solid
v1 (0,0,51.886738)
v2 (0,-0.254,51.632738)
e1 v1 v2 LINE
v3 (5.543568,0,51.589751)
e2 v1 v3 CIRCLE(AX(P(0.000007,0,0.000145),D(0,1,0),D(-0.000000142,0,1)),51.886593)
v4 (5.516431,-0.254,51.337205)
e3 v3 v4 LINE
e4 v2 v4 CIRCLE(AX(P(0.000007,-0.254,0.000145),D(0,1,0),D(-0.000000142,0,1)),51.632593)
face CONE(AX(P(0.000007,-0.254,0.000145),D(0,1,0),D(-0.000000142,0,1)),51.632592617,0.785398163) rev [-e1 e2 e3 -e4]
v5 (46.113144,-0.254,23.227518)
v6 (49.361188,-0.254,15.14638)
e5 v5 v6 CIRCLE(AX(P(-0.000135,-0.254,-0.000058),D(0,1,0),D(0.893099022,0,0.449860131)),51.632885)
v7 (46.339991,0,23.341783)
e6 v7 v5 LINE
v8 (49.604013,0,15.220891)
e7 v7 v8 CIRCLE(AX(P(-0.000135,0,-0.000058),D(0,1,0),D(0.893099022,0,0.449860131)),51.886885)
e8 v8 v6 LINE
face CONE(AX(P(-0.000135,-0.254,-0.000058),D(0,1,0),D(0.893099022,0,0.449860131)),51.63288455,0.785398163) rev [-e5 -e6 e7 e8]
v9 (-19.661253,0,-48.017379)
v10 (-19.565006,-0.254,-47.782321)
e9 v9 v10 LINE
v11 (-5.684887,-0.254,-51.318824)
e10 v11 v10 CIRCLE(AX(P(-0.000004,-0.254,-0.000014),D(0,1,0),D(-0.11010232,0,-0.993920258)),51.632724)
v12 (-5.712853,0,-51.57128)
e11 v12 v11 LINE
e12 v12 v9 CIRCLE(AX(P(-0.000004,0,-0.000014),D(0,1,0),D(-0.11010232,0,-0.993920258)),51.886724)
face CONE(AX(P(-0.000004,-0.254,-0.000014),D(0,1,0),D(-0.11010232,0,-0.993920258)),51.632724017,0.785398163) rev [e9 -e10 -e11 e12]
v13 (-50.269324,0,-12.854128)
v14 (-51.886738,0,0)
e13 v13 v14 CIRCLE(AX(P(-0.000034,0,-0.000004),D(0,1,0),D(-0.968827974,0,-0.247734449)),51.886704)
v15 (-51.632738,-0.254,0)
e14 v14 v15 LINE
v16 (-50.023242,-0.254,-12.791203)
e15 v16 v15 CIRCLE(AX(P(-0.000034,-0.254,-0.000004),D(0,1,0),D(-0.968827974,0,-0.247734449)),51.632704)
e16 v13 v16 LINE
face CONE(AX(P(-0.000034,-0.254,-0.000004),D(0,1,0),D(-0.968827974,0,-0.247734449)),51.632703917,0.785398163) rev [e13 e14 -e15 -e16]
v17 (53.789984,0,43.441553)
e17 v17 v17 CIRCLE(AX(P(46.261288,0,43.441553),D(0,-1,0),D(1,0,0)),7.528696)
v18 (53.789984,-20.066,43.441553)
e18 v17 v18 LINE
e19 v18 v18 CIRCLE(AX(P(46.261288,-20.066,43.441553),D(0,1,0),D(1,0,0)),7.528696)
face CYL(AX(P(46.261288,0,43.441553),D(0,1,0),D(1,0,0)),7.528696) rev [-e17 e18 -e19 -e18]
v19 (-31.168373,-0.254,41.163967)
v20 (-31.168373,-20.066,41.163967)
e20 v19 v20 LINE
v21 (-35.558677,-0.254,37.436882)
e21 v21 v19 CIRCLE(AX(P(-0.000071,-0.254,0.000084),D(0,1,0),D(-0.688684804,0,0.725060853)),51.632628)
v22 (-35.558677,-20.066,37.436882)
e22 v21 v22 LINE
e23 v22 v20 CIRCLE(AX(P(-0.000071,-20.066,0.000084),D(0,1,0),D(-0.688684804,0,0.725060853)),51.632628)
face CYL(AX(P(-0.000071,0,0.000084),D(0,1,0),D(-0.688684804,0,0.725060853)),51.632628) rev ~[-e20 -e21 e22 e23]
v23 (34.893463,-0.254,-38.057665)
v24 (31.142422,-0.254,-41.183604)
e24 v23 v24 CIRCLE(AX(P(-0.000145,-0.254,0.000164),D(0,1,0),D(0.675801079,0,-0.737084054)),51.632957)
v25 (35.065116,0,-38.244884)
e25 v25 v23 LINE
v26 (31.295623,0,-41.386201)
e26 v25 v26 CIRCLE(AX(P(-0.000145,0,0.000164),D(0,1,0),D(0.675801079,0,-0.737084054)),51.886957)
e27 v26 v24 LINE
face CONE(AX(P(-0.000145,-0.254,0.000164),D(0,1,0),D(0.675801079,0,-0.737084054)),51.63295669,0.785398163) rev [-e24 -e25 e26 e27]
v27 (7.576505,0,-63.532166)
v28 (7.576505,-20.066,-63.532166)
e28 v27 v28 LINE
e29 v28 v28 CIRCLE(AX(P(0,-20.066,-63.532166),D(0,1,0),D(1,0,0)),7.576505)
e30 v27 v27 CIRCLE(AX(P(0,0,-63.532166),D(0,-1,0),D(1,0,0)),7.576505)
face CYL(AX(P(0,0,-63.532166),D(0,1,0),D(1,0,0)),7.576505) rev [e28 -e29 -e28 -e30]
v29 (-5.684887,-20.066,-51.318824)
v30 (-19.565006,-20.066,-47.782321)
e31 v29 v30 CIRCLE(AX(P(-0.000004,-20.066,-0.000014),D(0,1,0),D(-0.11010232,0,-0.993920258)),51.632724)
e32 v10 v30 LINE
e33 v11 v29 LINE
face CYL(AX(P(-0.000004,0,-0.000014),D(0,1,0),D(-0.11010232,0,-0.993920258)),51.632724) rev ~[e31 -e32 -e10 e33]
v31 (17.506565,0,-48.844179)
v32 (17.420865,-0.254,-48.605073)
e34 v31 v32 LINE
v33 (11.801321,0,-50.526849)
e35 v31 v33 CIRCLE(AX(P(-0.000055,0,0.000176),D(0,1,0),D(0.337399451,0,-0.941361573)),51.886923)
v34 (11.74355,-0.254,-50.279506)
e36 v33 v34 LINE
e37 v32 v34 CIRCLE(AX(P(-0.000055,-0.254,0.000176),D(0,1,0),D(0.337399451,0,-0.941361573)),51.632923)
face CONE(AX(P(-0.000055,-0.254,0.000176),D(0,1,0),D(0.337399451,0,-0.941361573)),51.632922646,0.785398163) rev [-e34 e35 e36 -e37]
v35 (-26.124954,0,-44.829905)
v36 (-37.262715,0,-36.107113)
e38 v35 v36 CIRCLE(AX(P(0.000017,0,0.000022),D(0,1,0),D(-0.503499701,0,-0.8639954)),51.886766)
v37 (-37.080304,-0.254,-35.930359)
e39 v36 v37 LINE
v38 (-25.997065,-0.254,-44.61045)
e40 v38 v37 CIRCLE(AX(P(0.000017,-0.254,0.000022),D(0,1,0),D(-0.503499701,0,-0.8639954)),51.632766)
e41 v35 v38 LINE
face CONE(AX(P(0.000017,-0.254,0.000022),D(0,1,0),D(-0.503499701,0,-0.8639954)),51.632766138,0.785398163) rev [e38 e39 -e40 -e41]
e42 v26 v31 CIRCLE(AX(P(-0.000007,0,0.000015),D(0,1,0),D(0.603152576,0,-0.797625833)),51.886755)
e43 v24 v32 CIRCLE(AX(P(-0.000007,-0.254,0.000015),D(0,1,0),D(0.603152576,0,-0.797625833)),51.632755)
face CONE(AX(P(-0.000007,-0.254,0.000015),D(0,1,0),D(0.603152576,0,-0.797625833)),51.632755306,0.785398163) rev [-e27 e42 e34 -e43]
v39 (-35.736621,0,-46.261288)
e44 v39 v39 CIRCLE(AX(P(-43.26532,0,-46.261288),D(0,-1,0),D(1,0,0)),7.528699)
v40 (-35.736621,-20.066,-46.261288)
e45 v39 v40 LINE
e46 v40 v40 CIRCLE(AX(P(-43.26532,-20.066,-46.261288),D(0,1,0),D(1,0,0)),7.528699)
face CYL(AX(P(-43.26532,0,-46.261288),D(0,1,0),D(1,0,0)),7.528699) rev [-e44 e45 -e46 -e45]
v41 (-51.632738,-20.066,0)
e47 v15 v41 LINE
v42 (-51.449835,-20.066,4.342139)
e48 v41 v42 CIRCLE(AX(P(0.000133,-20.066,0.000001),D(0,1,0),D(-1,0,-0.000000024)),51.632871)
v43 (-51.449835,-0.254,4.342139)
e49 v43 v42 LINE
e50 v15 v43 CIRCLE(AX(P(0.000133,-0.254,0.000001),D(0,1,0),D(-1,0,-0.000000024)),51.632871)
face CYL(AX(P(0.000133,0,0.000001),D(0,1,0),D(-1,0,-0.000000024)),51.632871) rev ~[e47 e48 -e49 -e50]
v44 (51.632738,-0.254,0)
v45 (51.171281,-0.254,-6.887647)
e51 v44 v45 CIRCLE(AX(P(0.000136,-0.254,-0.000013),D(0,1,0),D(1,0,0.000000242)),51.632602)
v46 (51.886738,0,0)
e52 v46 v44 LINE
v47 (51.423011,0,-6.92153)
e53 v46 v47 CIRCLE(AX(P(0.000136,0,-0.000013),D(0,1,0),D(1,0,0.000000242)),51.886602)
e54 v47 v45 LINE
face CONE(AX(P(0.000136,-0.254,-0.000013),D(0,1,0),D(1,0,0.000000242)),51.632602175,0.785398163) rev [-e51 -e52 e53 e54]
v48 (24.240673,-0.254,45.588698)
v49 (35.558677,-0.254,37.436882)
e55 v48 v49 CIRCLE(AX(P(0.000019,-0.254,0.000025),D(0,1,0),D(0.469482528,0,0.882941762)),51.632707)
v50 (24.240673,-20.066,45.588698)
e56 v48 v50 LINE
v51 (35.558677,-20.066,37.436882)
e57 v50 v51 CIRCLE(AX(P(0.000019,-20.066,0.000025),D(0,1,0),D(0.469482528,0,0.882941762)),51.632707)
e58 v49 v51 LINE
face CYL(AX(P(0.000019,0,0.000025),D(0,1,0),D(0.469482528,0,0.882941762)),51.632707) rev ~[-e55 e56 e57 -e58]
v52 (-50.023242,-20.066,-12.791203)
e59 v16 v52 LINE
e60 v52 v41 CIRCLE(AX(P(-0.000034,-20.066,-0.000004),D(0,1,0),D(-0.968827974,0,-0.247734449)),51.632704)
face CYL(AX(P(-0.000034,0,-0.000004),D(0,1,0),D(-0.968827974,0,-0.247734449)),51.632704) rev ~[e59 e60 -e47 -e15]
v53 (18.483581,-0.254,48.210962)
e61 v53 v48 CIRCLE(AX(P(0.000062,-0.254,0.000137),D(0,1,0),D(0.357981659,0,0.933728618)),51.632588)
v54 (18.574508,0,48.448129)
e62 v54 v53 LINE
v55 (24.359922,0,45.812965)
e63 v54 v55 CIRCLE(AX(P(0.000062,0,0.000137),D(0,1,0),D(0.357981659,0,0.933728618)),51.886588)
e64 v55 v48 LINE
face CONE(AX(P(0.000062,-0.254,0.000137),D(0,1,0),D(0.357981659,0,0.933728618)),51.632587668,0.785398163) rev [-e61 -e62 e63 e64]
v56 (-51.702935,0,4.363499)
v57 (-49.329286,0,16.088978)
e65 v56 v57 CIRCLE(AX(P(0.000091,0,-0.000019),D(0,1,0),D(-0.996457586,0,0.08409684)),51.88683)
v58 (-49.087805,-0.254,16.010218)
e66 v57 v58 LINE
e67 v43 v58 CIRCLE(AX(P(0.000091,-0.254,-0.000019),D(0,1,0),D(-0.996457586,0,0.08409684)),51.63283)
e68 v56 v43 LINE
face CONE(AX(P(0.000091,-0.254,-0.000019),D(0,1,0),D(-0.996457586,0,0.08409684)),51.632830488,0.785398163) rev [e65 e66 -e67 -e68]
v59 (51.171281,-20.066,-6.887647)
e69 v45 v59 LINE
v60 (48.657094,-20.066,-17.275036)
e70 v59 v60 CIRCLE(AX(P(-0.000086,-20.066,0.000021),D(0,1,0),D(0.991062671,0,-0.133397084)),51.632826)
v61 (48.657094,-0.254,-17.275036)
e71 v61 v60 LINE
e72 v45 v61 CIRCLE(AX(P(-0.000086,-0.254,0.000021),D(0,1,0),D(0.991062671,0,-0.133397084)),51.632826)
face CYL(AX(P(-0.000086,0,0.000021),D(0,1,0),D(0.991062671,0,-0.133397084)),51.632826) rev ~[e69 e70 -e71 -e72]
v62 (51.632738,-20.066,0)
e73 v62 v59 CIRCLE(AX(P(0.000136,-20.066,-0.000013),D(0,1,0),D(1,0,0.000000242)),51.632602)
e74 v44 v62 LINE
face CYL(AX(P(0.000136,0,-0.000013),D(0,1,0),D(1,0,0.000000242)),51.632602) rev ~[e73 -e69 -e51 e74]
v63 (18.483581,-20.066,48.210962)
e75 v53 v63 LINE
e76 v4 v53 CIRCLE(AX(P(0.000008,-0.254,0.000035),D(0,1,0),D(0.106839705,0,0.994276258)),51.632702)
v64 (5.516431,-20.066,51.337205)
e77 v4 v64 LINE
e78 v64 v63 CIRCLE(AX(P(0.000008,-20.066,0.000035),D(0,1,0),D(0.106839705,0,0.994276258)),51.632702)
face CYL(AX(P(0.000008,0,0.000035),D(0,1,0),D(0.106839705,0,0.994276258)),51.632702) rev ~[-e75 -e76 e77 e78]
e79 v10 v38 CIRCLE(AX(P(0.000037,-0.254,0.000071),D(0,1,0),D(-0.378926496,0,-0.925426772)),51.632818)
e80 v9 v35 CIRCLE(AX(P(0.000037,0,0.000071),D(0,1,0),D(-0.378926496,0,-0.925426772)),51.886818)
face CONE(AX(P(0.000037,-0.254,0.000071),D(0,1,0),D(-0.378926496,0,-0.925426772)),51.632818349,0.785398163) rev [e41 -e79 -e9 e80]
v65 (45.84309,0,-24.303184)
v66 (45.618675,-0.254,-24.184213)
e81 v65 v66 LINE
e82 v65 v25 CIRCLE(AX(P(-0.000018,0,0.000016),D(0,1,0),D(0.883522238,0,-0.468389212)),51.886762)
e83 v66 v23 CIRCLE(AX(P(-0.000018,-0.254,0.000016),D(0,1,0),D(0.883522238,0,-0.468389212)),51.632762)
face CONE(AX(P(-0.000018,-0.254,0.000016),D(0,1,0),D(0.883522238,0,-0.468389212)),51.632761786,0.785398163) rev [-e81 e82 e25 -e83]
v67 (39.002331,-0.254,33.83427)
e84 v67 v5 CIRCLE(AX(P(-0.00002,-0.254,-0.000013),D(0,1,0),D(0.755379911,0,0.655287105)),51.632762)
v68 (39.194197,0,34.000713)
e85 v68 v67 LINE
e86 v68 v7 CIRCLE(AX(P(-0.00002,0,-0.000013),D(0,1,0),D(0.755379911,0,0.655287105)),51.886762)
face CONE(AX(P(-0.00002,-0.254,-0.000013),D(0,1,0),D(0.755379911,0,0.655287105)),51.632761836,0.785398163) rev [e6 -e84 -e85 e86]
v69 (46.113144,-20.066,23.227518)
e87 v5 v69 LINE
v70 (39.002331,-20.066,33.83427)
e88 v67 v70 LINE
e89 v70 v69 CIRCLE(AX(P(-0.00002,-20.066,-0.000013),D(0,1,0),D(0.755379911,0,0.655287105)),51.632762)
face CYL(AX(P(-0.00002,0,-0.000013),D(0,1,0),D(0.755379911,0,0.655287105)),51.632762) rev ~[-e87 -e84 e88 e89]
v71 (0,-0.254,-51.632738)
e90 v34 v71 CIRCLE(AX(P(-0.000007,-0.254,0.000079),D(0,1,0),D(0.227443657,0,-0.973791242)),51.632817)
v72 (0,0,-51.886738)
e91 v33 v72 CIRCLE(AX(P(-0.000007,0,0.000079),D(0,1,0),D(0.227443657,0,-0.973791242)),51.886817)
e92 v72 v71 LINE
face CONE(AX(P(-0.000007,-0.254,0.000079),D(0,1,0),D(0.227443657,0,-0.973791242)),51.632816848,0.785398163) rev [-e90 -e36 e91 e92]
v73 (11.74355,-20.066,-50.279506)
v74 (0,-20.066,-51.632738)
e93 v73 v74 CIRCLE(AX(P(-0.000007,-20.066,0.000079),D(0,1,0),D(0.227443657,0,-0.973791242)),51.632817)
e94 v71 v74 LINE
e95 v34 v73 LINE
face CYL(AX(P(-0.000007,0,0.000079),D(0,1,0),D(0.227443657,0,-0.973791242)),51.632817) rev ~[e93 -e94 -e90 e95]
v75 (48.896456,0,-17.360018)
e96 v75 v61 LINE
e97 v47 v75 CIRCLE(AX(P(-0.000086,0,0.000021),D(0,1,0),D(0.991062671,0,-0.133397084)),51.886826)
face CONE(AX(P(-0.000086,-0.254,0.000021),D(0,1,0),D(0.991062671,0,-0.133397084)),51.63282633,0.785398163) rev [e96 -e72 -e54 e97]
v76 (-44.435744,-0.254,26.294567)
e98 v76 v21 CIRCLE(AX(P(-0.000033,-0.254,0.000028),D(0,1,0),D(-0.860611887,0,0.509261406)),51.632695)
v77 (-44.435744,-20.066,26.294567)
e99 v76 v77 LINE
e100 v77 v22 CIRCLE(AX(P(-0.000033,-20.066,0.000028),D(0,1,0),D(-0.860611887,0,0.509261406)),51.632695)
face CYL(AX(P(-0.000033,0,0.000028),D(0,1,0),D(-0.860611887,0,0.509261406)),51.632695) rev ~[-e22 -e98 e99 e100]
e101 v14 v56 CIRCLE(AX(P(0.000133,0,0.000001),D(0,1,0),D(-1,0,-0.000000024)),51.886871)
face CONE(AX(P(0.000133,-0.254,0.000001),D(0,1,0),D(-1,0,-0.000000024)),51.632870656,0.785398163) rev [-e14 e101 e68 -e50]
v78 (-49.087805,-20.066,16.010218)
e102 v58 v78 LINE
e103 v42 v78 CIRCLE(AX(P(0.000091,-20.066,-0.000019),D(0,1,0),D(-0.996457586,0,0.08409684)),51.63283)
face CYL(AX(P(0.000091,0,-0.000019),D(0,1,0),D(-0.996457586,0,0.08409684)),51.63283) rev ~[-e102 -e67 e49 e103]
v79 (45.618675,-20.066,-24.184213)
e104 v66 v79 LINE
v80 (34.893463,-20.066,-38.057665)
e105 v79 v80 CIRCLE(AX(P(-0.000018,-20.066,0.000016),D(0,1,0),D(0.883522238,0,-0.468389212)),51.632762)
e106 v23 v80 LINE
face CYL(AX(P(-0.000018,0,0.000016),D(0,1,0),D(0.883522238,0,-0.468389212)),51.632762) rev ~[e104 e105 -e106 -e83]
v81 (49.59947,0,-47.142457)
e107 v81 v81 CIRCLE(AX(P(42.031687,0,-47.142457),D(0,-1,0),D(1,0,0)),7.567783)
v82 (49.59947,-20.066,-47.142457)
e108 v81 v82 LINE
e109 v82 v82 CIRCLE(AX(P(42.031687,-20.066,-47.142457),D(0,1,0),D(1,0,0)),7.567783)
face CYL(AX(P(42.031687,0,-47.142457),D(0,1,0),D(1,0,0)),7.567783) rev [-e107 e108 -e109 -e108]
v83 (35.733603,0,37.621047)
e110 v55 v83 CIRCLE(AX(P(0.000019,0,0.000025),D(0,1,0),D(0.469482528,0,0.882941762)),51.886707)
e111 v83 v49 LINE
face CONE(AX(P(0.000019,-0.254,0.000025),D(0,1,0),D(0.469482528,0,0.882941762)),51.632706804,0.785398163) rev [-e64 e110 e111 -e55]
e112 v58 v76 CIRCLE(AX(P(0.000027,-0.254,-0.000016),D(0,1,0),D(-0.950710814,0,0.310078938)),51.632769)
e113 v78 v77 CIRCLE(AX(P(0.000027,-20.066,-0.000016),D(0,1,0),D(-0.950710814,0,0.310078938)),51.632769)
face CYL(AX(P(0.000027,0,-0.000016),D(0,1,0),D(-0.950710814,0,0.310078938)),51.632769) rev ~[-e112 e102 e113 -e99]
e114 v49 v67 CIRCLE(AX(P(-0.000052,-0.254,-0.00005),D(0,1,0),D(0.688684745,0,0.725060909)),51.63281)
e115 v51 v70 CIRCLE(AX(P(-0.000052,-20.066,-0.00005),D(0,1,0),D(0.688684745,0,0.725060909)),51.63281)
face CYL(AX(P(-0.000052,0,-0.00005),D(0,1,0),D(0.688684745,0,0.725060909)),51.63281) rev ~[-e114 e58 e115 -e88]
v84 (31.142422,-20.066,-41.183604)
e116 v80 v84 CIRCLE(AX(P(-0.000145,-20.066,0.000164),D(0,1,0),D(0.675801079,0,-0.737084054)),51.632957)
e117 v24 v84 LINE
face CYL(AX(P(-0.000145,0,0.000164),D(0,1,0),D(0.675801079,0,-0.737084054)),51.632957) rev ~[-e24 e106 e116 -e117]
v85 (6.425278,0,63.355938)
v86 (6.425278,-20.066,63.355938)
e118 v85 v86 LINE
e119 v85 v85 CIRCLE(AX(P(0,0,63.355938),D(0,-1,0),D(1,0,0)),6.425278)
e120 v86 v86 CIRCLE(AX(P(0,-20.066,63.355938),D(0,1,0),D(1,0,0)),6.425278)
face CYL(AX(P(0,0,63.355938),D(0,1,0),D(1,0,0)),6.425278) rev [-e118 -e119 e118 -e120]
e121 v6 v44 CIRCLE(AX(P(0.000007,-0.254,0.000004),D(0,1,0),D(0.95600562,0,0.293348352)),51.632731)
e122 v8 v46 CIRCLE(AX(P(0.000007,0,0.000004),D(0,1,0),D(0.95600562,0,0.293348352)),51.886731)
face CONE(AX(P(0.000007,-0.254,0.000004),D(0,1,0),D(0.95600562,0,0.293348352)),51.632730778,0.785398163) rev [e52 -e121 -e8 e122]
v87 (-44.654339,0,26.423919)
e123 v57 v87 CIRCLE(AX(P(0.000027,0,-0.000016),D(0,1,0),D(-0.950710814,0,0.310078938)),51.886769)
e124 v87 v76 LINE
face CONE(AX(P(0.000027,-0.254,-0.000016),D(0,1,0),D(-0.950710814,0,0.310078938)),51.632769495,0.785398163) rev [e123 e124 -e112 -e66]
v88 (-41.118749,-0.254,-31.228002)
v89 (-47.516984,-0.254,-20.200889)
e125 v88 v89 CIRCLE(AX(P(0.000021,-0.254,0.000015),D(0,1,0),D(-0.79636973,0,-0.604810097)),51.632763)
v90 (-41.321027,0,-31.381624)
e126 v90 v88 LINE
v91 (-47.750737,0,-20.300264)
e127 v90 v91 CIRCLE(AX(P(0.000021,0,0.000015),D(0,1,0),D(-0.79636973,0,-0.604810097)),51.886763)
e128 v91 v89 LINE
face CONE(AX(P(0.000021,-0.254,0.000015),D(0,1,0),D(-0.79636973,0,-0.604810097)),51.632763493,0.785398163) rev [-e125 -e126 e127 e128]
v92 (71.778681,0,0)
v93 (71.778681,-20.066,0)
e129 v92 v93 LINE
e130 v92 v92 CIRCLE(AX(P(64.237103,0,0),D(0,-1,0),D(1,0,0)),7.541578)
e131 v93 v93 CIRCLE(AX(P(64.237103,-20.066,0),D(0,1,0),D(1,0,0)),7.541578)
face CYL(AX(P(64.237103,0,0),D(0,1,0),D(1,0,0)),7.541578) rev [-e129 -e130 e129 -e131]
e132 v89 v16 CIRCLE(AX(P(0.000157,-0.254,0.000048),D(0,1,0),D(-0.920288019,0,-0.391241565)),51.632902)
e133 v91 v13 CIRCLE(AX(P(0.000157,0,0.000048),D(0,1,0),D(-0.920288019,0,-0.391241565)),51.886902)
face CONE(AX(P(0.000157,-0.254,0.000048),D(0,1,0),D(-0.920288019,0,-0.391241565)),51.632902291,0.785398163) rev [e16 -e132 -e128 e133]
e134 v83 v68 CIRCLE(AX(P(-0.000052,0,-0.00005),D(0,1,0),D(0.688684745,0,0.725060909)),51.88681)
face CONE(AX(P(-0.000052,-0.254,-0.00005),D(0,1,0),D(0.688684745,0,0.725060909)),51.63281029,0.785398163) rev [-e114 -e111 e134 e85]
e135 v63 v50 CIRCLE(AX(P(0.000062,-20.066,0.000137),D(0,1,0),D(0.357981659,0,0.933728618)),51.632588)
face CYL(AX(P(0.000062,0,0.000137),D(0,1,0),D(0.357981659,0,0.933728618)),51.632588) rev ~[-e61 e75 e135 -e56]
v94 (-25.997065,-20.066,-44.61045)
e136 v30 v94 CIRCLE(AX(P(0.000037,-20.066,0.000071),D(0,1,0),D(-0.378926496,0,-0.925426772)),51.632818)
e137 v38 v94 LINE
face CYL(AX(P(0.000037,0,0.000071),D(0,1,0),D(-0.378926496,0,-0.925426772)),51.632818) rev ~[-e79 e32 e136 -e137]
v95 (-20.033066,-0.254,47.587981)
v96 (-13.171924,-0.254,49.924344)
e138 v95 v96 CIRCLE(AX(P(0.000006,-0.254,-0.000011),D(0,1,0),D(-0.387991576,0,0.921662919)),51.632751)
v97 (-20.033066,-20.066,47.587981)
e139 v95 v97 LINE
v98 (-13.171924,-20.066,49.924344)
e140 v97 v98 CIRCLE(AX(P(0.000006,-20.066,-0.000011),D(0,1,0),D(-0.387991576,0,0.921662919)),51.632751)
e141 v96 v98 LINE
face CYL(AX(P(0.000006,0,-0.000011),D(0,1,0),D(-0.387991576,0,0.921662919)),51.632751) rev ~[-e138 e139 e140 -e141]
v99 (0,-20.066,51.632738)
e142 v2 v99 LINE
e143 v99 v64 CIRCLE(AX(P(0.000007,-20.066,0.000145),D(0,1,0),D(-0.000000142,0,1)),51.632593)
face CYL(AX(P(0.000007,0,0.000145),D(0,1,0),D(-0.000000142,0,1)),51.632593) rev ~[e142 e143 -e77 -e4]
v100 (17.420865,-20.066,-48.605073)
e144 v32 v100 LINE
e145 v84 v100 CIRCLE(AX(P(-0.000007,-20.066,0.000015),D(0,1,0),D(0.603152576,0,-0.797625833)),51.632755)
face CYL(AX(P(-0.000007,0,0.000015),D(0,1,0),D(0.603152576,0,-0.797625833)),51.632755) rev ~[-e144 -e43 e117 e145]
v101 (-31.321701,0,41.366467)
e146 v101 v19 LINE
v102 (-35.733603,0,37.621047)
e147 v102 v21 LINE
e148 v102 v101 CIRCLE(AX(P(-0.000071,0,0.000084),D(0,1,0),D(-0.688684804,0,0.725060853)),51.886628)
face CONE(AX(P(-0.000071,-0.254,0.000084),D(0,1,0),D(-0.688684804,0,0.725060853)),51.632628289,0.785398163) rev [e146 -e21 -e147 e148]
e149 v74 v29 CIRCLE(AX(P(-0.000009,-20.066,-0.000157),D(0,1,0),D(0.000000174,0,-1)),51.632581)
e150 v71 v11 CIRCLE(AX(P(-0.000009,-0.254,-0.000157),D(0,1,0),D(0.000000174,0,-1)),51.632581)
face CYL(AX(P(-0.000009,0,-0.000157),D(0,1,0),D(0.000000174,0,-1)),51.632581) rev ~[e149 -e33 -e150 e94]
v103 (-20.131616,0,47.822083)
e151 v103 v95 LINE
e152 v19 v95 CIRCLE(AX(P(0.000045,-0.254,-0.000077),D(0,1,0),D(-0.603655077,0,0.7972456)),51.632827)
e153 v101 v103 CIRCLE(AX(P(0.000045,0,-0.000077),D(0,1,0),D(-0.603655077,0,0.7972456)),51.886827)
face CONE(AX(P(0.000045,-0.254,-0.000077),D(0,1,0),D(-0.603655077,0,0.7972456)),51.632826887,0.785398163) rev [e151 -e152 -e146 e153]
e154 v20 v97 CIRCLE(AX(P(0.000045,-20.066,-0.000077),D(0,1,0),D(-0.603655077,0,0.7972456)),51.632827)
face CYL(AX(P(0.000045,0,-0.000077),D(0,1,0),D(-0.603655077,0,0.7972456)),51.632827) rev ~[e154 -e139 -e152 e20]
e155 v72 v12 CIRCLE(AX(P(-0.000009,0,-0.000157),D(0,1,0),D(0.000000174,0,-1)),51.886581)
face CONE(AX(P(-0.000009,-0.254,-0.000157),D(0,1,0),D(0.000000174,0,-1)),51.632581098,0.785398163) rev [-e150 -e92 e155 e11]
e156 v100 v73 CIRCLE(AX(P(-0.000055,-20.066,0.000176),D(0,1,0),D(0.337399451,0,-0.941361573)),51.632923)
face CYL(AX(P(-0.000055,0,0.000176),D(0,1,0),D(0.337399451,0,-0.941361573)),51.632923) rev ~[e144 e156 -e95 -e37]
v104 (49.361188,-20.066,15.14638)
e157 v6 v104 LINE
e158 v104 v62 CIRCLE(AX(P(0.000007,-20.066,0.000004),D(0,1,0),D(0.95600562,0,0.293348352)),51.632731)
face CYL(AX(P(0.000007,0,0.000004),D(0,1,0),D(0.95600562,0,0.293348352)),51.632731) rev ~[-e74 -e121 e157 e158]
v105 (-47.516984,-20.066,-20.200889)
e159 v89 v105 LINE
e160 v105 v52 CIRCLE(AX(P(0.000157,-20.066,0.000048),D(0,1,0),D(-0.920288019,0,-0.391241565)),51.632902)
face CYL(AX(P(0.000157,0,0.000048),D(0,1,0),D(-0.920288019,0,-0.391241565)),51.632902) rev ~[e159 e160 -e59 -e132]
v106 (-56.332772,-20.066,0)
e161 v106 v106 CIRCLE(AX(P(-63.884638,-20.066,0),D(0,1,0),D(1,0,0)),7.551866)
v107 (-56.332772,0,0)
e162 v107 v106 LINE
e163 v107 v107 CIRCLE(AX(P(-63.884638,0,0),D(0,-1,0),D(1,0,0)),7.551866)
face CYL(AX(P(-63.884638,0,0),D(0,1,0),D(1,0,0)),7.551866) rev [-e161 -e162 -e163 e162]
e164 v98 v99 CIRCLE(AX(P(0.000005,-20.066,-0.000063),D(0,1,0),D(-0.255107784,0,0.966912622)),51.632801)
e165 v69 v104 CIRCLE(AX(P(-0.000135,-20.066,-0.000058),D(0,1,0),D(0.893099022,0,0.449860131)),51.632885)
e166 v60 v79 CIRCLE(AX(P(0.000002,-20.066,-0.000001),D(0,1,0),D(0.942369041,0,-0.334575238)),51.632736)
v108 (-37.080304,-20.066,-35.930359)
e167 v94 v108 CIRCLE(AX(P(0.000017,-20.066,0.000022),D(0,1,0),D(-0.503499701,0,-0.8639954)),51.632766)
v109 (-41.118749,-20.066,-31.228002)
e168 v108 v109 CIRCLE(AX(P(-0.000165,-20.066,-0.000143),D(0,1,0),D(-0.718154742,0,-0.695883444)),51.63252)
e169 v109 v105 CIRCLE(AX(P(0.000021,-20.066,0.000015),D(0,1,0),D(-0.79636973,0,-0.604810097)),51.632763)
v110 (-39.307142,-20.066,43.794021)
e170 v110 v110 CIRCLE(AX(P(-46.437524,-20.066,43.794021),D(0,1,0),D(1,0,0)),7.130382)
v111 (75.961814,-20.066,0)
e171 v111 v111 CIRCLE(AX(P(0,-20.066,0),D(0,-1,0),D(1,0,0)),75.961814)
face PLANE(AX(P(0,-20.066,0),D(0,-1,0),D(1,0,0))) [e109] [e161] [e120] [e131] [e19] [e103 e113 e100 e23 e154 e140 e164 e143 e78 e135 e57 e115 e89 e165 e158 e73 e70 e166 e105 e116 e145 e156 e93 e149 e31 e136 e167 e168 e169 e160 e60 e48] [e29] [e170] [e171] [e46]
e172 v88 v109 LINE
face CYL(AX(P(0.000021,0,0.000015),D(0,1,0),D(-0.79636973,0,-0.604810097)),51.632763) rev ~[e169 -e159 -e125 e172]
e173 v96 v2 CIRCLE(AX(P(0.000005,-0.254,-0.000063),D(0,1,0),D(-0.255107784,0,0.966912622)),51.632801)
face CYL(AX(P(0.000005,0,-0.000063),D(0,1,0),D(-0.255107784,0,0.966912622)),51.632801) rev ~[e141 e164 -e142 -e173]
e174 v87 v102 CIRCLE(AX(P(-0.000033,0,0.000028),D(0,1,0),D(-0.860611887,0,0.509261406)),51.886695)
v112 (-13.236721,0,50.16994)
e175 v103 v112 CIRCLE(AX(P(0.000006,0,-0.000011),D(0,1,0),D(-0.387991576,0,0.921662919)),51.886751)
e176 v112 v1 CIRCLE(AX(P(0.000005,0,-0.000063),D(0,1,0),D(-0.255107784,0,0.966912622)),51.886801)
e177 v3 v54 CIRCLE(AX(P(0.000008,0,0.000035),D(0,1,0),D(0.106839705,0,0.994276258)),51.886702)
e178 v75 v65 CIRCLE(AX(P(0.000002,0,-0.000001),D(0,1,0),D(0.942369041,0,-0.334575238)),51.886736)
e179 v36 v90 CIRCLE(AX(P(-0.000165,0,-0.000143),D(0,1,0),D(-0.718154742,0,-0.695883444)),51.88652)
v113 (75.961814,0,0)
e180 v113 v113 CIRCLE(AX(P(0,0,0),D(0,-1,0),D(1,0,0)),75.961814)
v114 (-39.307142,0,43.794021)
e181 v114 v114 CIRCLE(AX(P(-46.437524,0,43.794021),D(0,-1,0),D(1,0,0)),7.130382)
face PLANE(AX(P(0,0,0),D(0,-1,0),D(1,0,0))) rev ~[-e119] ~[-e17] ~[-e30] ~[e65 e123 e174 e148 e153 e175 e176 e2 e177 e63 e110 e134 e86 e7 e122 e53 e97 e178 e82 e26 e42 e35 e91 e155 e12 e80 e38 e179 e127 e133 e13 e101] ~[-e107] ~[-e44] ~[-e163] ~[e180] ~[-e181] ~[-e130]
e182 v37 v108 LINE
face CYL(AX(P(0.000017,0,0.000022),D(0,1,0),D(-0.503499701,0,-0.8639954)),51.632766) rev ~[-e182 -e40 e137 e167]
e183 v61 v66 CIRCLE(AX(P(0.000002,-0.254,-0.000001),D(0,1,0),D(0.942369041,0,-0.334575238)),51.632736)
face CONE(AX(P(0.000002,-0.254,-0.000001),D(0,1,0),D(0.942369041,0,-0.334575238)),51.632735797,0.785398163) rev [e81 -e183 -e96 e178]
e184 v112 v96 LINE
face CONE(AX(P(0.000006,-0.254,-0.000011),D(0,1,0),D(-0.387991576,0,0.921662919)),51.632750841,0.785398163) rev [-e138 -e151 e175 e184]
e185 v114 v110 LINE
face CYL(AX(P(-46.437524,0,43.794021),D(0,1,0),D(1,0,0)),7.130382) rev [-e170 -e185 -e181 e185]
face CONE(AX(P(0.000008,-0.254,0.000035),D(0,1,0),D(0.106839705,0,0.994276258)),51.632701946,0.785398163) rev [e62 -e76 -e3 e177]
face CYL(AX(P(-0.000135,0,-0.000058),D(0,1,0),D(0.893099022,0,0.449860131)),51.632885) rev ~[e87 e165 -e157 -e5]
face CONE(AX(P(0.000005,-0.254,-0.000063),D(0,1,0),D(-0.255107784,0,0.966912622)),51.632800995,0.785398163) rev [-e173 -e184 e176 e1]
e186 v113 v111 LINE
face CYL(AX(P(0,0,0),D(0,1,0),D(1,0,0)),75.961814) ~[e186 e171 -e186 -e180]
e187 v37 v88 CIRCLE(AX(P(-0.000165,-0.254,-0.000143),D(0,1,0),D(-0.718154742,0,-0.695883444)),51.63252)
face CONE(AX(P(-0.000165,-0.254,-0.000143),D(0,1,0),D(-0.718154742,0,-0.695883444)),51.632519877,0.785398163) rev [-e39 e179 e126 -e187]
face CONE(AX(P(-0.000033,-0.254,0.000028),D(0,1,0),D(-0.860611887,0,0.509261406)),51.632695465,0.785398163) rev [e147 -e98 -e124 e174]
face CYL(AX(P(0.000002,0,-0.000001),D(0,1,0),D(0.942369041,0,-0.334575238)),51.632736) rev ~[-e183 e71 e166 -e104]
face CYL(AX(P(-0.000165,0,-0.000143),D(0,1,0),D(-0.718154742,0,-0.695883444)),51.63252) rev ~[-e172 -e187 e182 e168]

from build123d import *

# Parameters (mm, degrees)
F0_R     = 75.961814
F0_R_2   = 59.912774
F1_DEPTH = 20.066
F2_R     = 7.541578
F2_R_2   = 7.528696
F2_R_3   = 6.425278
F2_R_4   = 7.130382
F2_R_5   = 7.551866
F2_R_6   = 7.528699
F2_R_7   = 7.576505
F2_R_8   = 7.567783
F3_DEPTH = 20.067
F4_SIZE  = 0.254


with BuildPart() as f1:
    # F0 (on Front) → F1 (new body)
    with BuildSketch(Plane.XZ):
        Circle(F0_R)
        Circle(F0_R_2, mode=Mode.SUBTRACT)
        Circle(F0_R_2)
        with BuildLine():
            ThreePointArc((49.361188, 15.14638), (51.061693, 7.657884), (51.632738, 0))
            ThreePointArc((51.632738, 0), (51.517245, -3.451544), (51.171281, -6.887647))
            ThreePointArc((51.171281, -6.887647), (50.183668, -12.146567), (48.657094, -17.275036))
            ThreePointArc((48.657094, -17.275036), (47.264303, -20.785219), (45.618675, -24.184213))
            ThreePointArc((45.618675, -24.184213), (40.849348, -31.579588), (34.893463, -38.057665))
            ThreePointArc((34.893463, -38.057665), (33.054915, -39.665), (31.142422, -41.183604))
            ThreePointArc((31.142422, -41.183604), (24.563545, -45.415547), (17.420865, -48.605073))
            ThreePointArc((17.420865, -48.605073), (14.606221, -49.523711), (11.74355, -50.279506))
            ThreePointArc((11.74355, -50.279506), (5.91063, -51.293314), (0, -51.632738))
            ThreePointArc((0, -51.632738), (-2.846774, -51.5542), (-5.684887, -51.318824))
            ThreePointArc((-5.684887, -51.318824), (-12.748176, -50.034225), (-19.565006, -47.782321))
            ThreePointArc((-19.565006, -47.782321), (-22.836173, -46.308194), (-25.997065, -44.61045))
            ThreePointArc((-25.997065, -44.61045), (-31.835901, -40.649908), (-37.080304, -35.930359))
            ThreePointArc((-37.080304, -35.930359), (-39.170155, -33.639837), (-41.118749, -31.228002))
            ThreePointArc((-41.118749, -31.228002), (-44.659518, -25.912682), (-47.516984, -20.200889))
            ThreePointArc((-47.516984, -20.200889), (-48.91063, -16.543575), (-50.023242, -12.791203))
            ThreePointArc((-50.023242, -12.791203), (-51.228784, -6.446033), (-51.632738, 0))
            ThreePointArc((-51.632738, 0), (-51.586992, 2.172995), (-51.449835, 4.342139))
            ThreePointArc((-51.449835, 4.342139), (-50.606227, 10.244482), (-49.087805, 16.010218))
            ThreePointArc((-49.087805, 16.010218), (-47.043655, 21.2799), (-44.435744, 26.294567))
            ThreePointArc((-44.435744, 26.294567), (-40.383346, 32.173359), (-35.558677, 37.436882))
            ThreePointArc((-35.558677, 37.436882), (-33.415529, 39.361683), (-31.168373, 41.163967))
            ThreePointArc((-31.168373, 41.163967), (-25.80143, 44.723884), (-20.033066, 47.587981))
            ThreePointArc((-20.033066, 47.587981), (-16.643542, 48.876704), (-13.171924, 49.924344))
            ThreePointArc((-13.171924, 49.924344), (-6.641125, 51.203858), (0, 51.632738))
            ThreePointArc((0, 51.632738), (2.762171, 51.558802), (5.516431, 51.337205))
            ThreePointArc((5.516431, 51.337205), (12.101384, 50.194583), (18.483581, 48.210962))
            ThreePointArc((18.483581, 48.210962), (21.402325, 46.988085), (24.240673, 45.588698))
            ThreePointArc((24.240673, 45.588698), (30.176209, 41.896731), (35.558677, 37.436882))
            ThreePointArc((35.558677, 37.436882), (37.323996, 35.677149), (39.002331, 33.83427))
            ThreePointArc((39.002331, 33.83427), (42.886907, 28.751571), (46.113144, 23.227518))
            ThreePointArc((46.113144, 23.227518), (47.907861, 19.255557), (49.361188, 15.14638))
        make_face(mode=Mode.SUBTRACT)
    extrude(amount=F1_DEPTH)

    # F2 (on Front) → F3 (cut, through all)
    with BuildSketch(Plane.XZ):
        with Locations((64.237103, 0)):
            Circle(F2_R)
        with Locations((46.261288, 43.441553)):
            Circle(F2_R_2)
        with Locations((0, 63.355938)):
            Circle(F2_R_3)
        with Locations((-46.437524, 43.794021)):
            Circle(F2_R_4)
        with Locations((-63.884638, 0)):
            Circle(F2_R_5)
        with Locations((-43.26532, -46.261288)):
            Circle(F2_R_6)
        with Locations((0, -63.532166)):
            Circle(F2_R_7)
        with Locations((42.031687, -47.142457)):
            Circle(F2_R_8)
    extrude(amount=F3_DEPTH, mode=Mode.SUBTRACT)

    # F4
    f4_edges = [f1.edges().sort_by_distance(p)[0] for p in [
        (-31.142422, 0, 41.183604),
    ]]
    chamfer(f4_edges, length=F4_SIZE)


solid = f1.part
